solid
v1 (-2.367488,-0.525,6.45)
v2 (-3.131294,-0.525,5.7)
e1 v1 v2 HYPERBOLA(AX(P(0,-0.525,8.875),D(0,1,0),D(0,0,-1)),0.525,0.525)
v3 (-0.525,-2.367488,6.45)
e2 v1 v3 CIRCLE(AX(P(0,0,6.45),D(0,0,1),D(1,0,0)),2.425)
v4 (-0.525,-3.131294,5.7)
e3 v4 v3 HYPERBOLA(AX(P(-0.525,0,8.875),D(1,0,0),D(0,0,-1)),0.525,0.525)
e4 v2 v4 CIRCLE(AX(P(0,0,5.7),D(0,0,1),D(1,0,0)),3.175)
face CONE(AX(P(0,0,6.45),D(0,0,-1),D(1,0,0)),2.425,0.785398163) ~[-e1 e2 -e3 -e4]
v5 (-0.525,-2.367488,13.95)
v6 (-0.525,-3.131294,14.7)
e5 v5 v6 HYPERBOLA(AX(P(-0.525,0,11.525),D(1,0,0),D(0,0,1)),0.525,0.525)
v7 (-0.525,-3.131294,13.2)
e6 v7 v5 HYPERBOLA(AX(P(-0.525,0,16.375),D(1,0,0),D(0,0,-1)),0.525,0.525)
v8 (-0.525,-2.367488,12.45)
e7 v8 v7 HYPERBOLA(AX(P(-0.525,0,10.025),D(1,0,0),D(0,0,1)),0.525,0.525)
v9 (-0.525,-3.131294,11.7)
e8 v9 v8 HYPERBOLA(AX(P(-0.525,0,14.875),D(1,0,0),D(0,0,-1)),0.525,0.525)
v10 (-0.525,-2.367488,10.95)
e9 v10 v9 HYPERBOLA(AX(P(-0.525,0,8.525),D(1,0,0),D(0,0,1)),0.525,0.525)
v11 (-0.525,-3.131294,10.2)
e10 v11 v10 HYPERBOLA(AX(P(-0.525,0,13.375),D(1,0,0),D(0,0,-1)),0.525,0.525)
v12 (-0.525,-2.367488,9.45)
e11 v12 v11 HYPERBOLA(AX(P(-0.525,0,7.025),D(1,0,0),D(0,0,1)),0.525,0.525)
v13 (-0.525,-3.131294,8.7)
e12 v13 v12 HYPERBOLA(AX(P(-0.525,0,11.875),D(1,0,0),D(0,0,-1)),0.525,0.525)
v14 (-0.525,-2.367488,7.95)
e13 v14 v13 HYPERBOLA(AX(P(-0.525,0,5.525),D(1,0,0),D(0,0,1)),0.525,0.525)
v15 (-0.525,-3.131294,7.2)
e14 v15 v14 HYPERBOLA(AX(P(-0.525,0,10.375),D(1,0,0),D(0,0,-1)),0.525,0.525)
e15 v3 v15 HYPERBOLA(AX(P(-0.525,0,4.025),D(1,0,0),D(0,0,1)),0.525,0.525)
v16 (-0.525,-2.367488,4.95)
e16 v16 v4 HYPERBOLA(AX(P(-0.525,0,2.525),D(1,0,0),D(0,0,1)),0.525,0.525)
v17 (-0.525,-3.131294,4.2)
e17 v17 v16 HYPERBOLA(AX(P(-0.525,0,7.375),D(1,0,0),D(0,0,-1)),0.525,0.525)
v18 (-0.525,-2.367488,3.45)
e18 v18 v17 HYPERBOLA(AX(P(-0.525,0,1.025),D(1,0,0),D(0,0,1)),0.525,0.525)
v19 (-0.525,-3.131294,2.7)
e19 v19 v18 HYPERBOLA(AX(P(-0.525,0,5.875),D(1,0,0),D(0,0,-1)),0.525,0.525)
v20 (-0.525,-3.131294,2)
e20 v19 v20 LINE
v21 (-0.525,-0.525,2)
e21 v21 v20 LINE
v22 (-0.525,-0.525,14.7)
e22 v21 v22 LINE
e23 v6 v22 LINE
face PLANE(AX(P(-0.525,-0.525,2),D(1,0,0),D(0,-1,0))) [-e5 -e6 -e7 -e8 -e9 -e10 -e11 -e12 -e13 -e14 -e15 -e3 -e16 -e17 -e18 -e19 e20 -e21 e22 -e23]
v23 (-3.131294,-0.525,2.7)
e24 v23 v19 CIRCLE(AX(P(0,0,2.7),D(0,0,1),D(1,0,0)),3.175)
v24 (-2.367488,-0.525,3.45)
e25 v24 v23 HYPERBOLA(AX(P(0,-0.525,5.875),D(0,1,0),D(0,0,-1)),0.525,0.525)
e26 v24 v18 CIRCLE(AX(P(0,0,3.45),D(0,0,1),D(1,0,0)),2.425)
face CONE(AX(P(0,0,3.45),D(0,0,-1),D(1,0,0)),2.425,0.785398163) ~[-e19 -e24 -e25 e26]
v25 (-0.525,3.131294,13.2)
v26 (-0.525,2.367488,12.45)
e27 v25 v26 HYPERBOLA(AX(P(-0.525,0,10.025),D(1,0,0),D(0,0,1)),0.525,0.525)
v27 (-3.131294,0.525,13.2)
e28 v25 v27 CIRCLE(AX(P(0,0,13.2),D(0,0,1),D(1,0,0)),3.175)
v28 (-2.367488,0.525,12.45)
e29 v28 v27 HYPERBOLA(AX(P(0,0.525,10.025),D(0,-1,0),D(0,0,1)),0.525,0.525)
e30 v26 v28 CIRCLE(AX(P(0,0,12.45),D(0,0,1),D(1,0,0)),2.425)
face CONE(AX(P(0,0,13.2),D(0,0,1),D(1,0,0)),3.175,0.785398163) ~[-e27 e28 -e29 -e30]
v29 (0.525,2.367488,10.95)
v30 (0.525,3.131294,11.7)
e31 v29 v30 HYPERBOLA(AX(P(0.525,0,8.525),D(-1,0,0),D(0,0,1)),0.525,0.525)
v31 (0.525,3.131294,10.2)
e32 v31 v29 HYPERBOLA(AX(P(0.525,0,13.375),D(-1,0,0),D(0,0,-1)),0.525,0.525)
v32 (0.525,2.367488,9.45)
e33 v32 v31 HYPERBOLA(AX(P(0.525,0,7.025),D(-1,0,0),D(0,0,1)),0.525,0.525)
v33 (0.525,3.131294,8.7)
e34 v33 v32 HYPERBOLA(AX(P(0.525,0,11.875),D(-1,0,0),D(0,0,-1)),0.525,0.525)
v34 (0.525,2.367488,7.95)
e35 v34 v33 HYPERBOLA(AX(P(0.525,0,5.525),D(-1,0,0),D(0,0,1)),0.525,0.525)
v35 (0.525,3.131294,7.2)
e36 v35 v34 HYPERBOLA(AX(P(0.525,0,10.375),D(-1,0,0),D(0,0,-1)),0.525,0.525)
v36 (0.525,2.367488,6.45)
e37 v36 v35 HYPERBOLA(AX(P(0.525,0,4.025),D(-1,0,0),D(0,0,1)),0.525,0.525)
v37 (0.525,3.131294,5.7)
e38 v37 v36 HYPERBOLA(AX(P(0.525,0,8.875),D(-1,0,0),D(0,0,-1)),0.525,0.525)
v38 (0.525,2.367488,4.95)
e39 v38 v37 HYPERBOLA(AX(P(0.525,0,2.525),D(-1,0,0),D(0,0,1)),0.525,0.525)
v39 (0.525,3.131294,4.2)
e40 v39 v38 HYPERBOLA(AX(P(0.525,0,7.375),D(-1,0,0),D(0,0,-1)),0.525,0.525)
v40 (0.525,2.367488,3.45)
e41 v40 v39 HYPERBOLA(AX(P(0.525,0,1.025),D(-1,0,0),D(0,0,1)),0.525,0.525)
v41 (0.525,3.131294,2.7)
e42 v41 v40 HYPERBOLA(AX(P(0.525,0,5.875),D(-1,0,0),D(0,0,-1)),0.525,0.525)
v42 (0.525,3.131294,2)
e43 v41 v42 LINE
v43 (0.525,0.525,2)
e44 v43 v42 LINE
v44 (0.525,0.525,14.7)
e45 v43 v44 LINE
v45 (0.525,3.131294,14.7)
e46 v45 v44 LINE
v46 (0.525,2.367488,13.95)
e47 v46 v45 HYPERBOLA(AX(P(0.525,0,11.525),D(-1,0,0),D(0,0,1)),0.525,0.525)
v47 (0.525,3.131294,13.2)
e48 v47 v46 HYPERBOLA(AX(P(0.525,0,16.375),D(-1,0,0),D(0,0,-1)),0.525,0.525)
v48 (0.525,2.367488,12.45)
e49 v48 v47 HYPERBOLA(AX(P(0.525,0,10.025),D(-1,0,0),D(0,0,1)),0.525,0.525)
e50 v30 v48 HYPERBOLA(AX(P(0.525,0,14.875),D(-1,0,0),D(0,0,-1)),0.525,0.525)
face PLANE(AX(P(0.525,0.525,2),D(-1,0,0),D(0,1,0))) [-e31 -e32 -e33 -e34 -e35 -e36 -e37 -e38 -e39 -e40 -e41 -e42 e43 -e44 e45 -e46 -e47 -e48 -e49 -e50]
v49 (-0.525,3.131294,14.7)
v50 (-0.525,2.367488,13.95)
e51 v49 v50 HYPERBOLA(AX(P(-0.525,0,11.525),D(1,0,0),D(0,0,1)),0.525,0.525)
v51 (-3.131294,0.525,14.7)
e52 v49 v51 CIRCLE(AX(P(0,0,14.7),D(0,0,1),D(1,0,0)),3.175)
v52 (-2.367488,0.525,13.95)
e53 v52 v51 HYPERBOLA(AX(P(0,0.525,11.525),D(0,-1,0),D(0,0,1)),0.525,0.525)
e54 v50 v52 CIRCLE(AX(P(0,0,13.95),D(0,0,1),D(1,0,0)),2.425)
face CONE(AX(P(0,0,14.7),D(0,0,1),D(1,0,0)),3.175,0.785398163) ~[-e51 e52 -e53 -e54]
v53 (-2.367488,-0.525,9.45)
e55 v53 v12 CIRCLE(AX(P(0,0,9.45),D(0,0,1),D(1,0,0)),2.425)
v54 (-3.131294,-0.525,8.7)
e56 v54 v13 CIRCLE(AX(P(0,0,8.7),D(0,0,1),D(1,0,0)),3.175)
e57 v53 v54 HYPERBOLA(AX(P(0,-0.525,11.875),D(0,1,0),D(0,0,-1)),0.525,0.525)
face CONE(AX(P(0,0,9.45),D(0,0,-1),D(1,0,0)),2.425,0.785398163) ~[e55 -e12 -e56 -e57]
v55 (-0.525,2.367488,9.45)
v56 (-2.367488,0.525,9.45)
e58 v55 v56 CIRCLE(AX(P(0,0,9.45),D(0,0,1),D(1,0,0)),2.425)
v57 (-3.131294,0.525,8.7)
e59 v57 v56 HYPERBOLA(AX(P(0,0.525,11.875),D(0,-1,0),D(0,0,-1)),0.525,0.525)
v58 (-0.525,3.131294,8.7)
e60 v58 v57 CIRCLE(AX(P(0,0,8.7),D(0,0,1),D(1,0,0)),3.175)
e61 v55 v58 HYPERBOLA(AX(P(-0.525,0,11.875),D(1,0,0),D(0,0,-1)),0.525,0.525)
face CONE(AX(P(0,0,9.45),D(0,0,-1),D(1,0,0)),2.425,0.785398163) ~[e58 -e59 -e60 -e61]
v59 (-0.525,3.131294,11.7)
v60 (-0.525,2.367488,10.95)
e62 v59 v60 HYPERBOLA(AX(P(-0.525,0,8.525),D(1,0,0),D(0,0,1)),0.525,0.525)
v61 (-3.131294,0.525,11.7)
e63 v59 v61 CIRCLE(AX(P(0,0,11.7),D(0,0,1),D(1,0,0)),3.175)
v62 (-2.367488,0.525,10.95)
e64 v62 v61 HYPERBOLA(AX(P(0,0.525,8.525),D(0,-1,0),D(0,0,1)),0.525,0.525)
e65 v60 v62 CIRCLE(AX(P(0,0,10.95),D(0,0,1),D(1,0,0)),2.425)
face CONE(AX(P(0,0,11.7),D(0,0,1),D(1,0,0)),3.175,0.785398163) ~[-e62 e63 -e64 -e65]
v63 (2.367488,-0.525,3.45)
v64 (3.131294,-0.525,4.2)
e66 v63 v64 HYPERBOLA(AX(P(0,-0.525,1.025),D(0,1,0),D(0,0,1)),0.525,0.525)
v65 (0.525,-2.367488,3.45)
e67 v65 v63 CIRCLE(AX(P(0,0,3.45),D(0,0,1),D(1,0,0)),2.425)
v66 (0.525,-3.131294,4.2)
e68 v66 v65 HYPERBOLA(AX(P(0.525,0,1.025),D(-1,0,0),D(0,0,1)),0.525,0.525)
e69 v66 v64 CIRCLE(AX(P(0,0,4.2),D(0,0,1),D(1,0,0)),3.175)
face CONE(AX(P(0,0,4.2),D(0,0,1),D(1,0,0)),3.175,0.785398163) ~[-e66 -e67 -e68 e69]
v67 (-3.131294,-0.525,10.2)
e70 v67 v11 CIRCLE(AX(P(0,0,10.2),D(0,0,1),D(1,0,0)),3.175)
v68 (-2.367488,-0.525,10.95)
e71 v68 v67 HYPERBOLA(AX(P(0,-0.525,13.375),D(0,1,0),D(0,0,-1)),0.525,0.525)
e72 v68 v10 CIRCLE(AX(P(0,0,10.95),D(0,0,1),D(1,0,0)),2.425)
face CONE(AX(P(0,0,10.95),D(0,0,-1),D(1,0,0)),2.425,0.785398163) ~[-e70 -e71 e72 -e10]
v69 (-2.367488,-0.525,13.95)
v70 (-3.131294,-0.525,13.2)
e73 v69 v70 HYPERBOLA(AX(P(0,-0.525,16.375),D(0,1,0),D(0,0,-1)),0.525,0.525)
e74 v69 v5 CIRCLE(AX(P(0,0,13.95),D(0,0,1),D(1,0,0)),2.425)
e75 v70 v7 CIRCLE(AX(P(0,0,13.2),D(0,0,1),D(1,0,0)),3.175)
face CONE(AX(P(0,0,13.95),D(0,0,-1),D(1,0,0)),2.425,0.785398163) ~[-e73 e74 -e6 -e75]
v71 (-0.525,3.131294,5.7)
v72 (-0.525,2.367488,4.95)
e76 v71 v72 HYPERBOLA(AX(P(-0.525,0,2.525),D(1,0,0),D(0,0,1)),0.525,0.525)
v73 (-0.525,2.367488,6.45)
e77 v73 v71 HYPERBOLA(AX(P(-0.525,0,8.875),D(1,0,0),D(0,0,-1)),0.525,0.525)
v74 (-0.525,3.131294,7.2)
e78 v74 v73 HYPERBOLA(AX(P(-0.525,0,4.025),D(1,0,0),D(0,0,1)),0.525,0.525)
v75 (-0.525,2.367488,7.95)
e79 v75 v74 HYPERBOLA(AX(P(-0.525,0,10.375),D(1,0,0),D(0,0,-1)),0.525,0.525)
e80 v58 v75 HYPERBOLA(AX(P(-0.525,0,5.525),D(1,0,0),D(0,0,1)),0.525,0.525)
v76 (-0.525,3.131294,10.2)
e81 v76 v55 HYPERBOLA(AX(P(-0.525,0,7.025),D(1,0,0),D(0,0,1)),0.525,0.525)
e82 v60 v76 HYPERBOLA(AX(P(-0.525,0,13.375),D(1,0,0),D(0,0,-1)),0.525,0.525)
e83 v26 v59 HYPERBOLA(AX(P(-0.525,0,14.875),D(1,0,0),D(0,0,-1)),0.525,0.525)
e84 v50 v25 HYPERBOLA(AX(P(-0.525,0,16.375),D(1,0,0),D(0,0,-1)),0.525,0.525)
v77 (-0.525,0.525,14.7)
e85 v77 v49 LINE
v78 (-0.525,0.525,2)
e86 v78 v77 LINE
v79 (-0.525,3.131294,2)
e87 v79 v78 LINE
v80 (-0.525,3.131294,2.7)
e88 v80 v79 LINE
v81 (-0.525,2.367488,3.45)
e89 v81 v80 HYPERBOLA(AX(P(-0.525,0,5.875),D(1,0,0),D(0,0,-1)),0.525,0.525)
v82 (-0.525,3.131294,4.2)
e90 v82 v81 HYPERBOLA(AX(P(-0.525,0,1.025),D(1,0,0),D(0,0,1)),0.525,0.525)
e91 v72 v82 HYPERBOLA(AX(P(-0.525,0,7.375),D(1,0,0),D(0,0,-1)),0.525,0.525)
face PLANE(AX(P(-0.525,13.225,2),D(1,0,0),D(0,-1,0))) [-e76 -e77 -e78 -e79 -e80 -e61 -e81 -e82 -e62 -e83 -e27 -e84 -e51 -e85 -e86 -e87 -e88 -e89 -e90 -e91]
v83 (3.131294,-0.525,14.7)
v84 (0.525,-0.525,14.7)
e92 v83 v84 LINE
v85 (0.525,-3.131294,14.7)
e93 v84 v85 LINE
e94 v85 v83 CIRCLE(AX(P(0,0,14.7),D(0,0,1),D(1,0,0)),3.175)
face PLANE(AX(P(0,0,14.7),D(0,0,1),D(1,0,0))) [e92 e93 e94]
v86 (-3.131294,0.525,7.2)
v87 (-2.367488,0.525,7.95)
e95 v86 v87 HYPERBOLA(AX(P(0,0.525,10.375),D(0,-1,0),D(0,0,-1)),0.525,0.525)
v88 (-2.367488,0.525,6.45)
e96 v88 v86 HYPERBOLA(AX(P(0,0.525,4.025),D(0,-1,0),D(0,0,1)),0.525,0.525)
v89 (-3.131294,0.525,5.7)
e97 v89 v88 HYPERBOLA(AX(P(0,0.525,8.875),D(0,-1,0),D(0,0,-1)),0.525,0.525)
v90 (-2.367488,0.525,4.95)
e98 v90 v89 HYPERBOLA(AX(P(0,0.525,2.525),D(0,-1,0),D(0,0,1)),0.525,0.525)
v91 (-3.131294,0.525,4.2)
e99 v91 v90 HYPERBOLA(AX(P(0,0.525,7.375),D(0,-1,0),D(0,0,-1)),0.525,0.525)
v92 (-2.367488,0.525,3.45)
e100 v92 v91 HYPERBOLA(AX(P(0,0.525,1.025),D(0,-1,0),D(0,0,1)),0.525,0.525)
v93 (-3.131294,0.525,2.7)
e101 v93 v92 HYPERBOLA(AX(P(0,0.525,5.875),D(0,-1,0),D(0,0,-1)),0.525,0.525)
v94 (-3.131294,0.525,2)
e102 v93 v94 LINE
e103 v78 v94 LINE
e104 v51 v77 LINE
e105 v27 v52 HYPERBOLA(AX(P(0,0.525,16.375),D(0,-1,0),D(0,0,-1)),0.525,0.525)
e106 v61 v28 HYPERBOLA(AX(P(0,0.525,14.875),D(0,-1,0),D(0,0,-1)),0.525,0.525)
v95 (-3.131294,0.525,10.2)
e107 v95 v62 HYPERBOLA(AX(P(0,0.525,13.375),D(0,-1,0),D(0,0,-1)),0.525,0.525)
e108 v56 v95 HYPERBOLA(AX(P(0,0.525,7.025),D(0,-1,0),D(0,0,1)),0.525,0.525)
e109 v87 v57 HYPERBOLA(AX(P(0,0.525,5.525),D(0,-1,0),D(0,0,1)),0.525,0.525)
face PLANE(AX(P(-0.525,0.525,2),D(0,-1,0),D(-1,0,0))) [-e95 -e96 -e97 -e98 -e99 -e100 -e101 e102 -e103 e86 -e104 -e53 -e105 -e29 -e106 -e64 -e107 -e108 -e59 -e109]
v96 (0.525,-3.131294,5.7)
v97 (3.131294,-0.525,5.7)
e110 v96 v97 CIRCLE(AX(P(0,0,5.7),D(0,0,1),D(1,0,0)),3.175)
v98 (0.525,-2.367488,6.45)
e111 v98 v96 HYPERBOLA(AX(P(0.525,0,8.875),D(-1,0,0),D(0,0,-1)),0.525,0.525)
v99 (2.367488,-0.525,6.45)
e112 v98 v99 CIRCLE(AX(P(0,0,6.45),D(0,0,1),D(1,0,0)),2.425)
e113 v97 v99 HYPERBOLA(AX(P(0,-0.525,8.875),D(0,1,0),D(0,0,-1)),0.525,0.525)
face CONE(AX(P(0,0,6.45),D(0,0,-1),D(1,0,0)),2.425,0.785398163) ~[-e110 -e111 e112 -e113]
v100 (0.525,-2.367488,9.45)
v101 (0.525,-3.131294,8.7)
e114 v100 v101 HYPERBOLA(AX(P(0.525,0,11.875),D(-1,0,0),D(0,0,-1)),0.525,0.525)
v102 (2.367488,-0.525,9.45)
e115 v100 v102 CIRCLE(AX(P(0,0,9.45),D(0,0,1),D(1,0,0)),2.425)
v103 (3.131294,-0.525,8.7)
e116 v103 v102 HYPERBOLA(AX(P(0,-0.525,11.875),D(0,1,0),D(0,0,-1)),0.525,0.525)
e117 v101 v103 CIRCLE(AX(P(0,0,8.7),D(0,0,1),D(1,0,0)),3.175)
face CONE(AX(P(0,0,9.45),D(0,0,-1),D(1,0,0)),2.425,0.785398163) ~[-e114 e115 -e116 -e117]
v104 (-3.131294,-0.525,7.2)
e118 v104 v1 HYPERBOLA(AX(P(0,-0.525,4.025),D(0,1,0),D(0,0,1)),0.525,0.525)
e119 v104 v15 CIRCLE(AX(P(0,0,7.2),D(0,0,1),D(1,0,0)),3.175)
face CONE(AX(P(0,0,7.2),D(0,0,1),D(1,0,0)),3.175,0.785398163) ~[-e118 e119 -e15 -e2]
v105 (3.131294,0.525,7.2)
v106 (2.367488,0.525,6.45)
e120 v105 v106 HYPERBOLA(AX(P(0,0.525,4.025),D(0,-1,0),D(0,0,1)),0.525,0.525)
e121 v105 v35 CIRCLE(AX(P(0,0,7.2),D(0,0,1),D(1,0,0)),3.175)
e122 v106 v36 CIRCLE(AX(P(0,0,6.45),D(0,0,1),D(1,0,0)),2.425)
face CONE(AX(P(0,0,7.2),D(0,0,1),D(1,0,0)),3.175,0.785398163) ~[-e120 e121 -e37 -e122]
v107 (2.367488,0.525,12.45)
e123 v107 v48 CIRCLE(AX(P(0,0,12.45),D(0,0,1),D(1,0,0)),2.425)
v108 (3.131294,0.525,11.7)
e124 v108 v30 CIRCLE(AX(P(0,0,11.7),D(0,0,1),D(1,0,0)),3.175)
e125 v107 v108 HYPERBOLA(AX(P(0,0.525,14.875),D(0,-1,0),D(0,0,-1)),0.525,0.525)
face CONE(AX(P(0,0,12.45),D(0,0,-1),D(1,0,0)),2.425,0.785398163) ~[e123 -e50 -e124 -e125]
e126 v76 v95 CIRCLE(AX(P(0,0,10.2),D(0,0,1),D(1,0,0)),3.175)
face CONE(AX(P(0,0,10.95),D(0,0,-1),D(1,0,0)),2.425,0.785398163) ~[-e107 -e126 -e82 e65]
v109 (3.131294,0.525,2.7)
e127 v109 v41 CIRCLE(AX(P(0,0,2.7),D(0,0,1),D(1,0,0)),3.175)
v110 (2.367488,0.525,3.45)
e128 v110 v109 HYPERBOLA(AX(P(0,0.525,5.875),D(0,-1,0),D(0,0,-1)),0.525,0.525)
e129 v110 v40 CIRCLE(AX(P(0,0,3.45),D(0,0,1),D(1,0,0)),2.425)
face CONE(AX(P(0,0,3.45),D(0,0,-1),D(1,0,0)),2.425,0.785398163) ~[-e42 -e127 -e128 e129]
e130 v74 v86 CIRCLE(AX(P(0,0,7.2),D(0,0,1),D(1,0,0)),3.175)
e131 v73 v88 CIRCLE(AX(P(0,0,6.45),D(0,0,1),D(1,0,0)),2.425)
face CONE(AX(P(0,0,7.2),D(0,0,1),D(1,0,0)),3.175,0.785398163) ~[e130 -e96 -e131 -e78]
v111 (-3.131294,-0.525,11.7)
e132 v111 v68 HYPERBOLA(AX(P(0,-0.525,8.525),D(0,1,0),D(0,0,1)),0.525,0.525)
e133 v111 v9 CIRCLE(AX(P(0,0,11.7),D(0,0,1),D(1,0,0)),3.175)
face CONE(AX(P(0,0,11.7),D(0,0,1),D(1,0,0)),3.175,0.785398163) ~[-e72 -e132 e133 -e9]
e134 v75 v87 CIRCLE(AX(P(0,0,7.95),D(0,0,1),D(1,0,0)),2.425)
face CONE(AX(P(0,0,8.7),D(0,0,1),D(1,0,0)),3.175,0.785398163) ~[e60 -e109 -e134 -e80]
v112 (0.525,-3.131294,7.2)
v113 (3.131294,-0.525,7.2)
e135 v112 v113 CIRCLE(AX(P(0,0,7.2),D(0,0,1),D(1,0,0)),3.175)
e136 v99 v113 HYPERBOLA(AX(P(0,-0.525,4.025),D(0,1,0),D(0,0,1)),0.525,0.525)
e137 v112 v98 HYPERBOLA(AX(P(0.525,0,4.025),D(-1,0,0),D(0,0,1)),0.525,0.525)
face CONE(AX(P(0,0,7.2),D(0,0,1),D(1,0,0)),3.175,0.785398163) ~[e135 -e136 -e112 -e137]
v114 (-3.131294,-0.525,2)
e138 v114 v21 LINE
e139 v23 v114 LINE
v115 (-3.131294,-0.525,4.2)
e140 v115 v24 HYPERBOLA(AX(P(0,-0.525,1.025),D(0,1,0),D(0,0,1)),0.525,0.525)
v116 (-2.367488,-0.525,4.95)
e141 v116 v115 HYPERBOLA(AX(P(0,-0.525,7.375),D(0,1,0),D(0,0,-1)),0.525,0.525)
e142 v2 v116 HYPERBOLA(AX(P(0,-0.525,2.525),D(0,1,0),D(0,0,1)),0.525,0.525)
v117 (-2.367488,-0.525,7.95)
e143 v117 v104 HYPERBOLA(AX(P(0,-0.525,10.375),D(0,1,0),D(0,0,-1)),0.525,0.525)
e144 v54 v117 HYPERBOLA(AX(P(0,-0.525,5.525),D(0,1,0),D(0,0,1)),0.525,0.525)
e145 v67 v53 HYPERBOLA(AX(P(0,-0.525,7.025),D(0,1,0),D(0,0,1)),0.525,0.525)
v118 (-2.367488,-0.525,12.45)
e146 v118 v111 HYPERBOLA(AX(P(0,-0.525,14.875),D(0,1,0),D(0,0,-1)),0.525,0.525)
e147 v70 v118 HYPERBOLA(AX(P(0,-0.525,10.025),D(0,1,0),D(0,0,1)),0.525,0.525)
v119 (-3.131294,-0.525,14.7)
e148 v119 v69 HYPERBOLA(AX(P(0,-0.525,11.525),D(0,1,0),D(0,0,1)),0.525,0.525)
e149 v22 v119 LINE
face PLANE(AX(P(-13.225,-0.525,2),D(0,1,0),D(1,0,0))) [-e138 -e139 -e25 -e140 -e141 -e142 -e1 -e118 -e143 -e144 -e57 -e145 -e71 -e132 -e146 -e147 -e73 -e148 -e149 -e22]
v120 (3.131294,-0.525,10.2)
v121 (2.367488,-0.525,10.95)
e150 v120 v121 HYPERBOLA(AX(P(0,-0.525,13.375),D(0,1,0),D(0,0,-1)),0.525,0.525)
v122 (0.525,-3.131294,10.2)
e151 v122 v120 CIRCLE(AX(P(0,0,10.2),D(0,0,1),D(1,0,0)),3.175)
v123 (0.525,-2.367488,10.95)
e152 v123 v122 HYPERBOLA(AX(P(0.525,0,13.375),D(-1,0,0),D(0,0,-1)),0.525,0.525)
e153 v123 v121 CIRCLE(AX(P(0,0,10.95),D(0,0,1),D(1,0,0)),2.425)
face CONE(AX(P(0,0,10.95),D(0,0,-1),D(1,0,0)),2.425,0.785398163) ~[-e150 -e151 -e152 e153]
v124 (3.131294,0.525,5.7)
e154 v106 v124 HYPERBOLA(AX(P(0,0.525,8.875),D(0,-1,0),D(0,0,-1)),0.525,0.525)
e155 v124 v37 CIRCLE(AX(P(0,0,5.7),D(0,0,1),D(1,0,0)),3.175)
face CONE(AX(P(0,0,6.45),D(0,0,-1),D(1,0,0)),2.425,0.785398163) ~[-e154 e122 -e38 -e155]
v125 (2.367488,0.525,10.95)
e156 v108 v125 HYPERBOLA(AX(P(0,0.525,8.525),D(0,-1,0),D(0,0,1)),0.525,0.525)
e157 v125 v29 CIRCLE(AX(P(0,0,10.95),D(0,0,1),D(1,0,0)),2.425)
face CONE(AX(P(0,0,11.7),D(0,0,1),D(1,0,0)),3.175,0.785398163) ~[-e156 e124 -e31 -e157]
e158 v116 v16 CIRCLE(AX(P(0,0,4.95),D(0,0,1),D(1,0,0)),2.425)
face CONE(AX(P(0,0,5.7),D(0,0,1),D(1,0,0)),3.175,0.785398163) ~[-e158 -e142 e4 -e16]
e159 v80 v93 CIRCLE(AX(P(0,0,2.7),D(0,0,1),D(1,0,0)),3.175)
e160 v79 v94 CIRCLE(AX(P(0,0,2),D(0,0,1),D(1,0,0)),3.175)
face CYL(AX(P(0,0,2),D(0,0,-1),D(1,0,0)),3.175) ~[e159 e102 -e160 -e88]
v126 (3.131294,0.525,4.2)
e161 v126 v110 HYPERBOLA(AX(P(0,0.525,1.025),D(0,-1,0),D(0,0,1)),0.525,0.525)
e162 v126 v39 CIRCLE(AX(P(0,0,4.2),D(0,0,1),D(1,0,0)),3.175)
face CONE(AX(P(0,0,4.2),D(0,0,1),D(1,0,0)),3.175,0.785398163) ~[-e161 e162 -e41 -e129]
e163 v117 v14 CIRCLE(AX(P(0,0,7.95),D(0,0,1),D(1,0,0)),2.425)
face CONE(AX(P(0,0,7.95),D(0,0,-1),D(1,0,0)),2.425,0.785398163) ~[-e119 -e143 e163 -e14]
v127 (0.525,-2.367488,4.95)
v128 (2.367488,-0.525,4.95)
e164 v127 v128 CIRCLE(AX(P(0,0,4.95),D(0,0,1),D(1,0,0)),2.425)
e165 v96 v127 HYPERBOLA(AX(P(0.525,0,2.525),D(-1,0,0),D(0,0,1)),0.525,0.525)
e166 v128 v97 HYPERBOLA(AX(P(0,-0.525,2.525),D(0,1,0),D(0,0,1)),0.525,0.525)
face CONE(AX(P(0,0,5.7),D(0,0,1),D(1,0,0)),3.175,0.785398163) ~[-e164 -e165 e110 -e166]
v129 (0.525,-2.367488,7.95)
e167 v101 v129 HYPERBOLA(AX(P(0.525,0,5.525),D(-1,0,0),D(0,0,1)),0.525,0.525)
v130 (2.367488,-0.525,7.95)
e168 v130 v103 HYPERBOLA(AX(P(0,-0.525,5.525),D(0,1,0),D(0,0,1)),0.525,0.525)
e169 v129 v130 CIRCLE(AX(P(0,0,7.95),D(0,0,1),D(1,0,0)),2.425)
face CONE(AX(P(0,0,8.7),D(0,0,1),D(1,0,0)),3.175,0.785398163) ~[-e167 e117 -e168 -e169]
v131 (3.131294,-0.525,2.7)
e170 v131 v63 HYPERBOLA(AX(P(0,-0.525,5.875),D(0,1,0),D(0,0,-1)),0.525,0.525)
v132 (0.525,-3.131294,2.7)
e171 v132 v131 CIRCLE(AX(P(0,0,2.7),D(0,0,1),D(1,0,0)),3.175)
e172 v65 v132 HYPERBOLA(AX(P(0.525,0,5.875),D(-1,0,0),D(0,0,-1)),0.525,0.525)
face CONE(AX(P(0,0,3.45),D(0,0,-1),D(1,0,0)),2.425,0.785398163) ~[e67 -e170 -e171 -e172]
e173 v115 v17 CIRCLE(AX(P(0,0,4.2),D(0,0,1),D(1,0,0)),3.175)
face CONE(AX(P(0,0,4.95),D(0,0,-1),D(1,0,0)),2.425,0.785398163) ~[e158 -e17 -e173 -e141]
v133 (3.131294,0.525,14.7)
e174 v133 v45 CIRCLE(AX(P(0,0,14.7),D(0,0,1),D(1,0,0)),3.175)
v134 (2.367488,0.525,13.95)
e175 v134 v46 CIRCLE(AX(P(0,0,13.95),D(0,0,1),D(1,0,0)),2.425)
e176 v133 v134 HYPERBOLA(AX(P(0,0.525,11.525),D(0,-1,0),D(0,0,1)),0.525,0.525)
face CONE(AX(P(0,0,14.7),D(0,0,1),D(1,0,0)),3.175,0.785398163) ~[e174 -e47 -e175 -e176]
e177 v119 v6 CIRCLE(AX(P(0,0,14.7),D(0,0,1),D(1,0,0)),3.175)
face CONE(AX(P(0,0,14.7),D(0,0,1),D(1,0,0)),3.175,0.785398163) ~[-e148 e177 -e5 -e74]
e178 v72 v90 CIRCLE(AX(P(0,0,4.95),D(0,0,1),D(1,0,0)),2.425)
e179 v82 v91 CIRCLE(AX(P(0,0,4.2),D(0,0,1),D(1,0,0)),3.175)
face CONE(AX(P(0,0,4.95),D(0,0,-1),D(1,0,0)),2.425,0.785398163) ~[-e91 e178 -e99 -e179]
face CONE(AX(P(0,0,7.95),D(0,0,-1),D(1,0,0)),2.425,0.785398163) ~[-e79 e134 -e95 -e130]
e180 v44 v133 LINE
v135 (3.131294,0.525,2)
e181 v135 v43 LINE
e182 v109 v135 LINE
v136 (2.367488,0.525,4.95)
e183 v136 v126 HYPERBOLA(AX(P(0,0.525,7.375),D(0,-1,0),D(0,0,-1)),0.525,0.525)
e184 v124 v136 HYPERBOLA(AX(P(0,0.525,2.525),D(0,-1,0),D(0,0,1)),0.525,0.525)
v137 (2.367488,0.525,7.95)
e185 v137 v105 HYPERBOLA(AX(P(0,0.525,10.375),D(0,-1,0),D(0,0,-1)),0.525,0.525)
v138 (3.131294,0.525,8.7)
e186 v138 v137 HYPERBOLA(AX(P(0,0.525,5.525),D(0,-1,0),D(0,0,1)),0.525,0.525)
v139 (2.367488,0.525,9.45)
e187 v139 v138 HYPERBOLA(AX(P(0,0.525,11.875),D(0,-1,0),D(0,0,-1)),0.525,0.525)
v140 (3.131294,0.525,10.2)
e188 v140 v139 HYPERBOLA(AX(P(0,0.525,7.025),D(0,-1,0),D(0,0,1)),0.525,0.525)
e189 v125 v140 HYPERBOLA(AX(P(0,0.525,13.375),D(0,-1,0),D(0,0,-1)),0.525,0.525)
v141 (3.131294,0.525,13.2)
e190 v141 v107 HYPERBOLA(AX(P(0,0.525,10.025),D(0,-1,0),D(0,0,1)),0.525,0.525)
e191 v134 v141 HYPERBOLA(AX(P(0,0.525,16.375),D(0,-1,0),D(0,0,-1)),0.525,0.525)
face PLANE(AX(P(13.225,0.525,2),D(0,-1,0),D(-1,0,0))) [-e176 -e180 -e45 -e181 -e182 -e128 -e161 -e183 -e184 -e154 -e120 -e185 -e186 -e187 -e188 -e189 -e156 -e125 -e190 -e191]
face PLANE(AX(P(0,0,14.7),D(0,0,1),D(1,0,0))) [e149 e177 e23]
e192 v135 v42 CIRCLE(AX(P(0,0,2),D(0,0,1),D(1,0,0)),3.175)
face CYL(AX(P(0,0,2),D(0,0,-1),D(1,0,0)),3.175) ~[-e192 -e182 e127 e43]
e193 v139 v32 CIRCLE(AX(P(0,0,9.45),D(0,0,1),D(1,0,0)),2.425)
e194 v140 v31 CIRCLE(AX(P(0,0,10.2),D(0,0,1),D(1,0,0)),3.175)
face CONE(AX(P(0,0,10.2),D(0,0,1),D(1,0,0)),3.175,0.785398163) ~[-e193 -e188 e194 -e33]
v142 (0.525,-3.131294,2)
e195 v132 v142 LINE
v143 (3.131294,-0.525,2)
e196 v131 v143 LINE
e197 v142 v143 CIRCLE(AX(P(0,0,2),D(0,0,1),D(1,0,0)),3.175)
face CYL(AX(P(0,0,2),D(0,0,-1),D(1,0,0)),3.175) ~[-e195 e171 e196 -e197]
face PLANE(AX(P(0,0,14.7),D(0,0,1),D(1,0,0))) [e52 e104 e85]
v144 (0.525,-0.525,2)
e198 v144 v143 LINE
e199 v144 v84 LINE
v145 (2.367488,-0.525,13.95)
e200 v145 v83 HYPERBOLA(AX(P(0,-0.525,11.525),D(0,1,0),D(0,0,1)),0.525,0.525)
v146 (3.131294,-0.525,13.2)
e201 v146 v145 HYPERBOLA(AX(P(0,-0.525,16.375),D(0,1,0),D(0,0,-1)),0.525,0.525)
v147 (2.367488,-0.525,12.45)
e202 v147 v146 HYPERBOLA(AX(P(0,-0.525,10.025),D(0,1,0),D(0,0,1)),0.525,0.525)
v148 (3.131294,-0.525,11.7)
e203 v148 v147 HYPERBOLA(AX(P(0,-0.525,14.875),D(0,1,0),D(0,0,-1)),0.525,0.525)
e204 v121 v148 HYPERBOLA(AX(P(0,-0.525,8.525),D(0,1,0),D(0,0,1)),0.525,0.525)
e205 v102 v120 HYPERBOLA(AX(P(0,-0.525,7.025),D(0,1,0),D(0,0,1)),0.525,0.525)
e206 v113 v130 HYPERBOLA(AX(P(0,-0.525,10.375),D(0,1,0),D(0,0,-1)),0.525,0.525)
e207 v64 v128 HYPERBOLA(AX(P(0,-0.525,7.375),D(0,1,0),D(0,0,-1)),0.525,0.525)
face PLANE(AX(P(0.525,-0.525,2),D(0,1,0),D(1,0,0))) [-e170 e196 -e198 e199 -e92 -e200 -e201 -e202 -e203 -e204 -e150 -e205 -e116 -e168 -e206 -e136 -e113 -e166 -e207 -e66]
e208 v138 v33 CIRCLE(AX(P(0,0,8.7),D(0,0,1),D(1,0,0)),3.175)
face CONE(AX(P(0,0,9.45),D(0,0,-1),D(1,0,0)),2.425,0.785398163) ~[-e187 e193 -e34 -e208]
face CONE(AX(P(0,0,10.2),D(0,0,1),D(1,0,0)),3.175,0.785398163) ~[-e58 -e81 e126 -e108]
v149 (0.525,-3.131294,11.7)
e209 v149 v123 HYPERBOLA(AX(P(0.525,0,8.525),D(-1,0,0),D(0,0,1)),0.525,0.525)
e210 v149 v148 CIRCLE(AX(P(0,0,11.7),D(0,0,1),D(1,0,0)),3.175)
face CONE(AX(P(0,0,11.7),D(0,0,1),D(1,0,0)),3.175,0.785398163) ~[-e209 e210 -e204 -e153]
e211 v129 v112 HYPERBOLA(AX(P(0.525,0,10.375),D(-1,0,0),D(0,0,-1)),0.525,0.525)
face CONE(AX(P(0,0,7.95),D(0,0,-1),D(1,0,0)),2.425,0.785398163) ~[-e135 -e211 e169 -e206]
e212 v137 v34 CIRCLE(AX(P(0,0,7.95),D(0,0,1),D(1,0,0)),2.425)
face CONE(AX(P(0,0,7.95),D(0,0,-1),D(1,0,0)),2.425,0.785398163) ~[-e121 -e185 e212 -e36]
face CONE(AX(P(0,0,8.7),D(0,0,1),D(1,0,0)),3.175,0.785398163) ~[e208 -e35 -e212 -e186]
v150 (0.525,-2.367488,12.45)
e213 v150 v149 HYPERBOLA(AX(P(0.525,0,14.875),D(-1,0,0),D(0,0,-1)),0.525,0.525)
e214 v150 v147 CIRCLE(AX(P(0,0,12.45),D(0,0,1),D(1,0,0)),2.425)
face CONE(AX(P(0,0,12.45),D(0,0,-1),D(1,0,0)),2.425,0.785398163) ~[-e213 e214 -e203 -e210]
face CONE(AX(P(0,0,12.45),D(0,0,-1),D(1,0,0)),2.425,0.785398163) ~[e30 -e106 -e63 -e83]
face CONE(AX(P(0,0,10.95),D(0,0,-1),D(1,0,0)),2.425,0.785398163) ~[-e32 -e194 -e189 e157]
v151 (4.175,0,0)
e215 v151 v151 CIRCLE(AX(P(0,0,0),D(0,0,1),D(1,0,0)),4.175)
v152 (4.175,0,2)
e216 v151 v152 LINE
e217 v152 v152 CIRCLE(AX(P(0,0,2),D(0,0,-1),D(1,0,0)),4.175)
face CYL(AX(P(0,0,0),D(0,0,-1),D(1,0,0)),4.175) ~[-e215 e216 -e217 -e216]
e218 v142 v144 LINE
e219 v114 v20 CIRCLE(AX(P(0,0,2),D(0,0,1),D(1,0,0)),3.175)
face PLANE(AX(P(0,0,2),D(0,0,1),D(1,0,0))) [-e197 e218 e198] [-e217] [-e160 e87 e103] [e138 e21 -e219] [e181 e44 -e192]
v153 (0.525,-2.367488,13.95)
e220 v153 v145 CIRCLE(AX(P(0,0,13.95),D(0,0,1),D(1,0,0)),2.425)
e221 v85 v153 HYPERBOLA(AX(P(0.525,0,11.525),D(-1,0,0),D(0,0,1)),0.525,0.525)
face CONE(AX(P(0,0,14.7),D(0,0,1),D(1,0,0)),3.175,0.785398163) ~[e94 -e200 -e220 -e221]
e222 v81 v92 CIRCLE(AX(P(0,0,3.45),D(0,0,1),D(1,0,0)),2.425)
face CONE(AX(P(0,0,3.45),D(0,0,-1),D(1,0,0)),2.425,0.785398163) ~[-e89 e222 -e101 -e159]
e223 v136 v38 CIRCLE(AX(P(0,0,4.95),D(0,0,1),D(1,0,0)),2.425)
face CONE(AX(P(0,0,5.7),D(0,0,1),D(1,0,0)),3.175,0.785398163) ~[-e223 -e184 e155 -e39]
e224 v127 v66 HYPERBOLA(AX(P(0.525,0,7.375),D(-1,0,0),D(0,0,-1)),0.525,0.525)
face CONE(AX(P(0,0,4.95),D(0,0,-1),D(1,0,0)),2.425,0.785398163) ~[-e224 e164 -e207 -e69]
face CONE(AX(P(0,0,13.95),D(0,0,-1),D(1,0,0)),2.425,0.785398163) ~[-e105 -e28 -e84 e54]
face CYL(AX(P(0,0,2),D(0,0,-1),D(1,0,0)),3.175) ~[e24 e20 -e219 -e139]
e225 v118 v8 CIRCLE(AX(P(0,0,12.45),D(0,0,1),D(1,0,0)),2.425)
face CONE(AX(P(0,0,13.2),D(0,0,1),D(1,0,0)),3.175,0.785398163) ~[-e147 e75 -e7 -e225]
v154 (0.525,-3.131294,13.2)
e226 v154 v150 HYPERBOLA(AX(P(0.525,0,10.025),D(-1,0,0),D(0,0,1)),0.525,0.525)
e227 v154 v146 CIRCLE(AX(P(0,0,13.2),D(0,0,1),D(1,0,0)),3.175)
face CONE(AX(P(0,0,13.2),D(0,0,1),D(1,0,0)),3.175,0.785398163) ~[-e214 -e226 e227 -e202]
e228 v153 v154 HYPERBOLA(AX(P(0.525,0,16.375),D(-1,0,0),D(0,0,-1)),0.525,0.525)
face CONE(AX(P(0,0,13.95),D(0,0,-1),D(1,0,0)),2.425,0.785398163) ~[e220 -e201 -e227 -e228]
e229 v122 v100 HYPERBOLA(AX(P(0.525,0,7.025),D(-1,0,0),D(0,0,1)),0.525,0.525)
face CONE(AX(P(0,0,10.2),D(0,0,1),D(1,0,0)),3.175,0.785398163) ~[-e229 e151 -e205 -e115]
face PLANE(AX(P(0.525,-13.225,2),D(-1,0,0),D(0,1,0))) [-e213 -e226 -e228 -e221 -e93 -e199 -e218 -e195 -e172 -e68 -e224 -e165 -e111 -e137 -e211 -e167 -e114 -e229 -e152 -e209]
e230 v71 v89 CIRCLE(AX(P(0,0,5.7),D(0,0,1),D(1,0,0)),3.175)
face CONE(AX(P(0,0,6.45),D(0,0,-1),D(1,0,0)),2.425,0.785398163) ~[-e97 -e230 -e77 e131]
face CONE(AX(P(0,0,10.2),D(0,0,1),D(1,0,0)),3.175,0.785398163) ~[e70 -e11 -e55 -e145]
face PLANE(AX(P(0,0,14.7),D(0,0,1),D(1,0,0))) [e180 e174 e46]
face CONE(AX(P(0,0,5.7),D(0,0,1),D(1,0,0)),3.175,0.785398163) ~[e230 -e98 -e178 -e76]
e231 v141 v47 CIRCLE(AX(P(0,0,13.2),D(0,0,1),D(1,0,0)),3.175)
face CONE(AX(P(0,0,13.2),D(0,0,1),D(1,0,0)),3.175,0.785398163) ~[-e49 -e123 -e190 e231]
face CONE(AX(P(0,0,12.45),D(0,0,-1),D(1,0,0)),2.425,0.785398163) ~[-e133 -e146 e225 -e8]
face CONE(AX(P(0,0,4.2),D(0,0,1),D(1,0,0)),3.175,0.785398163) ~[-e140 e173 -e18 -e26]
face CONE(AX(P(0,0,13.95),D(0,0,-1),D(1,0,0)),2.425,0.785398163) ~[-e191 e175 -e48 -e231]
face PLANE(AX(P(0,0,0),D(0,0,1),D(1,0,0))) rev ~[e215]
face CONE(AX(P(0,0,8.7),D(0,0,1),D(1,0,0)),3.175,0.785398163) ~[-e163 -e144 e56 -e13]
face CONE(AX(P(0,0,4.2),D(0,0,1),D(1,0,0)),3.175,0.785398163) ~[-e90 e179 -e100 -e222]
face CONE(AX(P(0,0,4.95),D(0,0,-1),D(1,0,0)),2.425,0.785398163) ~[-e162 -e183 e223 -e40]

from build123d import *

# Parameters (mm, degrees)
SKETCH004_R         = 4.175
PAD003_DEPTH        = 2
SKETCH005_R         = 3.175
PAD004_DEPTH        = 12.7
POCKET001_DEPTH     = 12.701
LINEARPATTERN_COUNT = 8
LINEARPATTERN_PITCH = 1.5


with BuildPart() as part:
    # Sketch004 → Pad003 (new body)
    with BuildSketch(Plane.XY):
        Circle(SKETCH004_R)
    extrude(amount=PAD003_DEPTH)

    # Sketch005 (on DatumPlane) → Pad004 (join)
    with BuildSketch(Plane.XY.offset(2)):
        Circle(SKETCH005_R)
    extrude(amount=PAD004_DEPTH)

    # Sketch006 (on DatumPlane) → Pocket001 (cut, through all)
    with BuildSketch(Plane.XY.offset(2)):
        Polygon((13.225, 0.525), (0.525, 0.525), (0.525, 13.225), (-0.525, 13.225), (-0.525, 0.525), (-13.225, 0.525), (-13.225, -0.525), (-0.525, -0.525), (-0.525, -13.225), (0.525, -13.225), (0.525, -0.525), (13.225, -0.525), align=None)
    extrude(amount=POCKET001_DEPTH, mode=Mode.SUBTRACT)

    # Sketch007 (on DatumPlane) → Groove (revolve, cut)
    with BuildSketch(Plane.XZ):
        Polygon((3.175, 14.7), (2.425, 13.95), (3.175, 13.2), align=None)
    groove = revolve(axis=Axis((0, 0, 0), (0, 0, 1)), mode=Mode.SUBTRACT)

    # LinearPattern: Groove ×8
    with Locations(*[(0, 0, -i * LINEARPATTERN_PITCH) for i in range(1, LINEARPATTERN_COUNT)]):
        add(groove, mode=Mode.SUBTRACT)


solid = part.part
